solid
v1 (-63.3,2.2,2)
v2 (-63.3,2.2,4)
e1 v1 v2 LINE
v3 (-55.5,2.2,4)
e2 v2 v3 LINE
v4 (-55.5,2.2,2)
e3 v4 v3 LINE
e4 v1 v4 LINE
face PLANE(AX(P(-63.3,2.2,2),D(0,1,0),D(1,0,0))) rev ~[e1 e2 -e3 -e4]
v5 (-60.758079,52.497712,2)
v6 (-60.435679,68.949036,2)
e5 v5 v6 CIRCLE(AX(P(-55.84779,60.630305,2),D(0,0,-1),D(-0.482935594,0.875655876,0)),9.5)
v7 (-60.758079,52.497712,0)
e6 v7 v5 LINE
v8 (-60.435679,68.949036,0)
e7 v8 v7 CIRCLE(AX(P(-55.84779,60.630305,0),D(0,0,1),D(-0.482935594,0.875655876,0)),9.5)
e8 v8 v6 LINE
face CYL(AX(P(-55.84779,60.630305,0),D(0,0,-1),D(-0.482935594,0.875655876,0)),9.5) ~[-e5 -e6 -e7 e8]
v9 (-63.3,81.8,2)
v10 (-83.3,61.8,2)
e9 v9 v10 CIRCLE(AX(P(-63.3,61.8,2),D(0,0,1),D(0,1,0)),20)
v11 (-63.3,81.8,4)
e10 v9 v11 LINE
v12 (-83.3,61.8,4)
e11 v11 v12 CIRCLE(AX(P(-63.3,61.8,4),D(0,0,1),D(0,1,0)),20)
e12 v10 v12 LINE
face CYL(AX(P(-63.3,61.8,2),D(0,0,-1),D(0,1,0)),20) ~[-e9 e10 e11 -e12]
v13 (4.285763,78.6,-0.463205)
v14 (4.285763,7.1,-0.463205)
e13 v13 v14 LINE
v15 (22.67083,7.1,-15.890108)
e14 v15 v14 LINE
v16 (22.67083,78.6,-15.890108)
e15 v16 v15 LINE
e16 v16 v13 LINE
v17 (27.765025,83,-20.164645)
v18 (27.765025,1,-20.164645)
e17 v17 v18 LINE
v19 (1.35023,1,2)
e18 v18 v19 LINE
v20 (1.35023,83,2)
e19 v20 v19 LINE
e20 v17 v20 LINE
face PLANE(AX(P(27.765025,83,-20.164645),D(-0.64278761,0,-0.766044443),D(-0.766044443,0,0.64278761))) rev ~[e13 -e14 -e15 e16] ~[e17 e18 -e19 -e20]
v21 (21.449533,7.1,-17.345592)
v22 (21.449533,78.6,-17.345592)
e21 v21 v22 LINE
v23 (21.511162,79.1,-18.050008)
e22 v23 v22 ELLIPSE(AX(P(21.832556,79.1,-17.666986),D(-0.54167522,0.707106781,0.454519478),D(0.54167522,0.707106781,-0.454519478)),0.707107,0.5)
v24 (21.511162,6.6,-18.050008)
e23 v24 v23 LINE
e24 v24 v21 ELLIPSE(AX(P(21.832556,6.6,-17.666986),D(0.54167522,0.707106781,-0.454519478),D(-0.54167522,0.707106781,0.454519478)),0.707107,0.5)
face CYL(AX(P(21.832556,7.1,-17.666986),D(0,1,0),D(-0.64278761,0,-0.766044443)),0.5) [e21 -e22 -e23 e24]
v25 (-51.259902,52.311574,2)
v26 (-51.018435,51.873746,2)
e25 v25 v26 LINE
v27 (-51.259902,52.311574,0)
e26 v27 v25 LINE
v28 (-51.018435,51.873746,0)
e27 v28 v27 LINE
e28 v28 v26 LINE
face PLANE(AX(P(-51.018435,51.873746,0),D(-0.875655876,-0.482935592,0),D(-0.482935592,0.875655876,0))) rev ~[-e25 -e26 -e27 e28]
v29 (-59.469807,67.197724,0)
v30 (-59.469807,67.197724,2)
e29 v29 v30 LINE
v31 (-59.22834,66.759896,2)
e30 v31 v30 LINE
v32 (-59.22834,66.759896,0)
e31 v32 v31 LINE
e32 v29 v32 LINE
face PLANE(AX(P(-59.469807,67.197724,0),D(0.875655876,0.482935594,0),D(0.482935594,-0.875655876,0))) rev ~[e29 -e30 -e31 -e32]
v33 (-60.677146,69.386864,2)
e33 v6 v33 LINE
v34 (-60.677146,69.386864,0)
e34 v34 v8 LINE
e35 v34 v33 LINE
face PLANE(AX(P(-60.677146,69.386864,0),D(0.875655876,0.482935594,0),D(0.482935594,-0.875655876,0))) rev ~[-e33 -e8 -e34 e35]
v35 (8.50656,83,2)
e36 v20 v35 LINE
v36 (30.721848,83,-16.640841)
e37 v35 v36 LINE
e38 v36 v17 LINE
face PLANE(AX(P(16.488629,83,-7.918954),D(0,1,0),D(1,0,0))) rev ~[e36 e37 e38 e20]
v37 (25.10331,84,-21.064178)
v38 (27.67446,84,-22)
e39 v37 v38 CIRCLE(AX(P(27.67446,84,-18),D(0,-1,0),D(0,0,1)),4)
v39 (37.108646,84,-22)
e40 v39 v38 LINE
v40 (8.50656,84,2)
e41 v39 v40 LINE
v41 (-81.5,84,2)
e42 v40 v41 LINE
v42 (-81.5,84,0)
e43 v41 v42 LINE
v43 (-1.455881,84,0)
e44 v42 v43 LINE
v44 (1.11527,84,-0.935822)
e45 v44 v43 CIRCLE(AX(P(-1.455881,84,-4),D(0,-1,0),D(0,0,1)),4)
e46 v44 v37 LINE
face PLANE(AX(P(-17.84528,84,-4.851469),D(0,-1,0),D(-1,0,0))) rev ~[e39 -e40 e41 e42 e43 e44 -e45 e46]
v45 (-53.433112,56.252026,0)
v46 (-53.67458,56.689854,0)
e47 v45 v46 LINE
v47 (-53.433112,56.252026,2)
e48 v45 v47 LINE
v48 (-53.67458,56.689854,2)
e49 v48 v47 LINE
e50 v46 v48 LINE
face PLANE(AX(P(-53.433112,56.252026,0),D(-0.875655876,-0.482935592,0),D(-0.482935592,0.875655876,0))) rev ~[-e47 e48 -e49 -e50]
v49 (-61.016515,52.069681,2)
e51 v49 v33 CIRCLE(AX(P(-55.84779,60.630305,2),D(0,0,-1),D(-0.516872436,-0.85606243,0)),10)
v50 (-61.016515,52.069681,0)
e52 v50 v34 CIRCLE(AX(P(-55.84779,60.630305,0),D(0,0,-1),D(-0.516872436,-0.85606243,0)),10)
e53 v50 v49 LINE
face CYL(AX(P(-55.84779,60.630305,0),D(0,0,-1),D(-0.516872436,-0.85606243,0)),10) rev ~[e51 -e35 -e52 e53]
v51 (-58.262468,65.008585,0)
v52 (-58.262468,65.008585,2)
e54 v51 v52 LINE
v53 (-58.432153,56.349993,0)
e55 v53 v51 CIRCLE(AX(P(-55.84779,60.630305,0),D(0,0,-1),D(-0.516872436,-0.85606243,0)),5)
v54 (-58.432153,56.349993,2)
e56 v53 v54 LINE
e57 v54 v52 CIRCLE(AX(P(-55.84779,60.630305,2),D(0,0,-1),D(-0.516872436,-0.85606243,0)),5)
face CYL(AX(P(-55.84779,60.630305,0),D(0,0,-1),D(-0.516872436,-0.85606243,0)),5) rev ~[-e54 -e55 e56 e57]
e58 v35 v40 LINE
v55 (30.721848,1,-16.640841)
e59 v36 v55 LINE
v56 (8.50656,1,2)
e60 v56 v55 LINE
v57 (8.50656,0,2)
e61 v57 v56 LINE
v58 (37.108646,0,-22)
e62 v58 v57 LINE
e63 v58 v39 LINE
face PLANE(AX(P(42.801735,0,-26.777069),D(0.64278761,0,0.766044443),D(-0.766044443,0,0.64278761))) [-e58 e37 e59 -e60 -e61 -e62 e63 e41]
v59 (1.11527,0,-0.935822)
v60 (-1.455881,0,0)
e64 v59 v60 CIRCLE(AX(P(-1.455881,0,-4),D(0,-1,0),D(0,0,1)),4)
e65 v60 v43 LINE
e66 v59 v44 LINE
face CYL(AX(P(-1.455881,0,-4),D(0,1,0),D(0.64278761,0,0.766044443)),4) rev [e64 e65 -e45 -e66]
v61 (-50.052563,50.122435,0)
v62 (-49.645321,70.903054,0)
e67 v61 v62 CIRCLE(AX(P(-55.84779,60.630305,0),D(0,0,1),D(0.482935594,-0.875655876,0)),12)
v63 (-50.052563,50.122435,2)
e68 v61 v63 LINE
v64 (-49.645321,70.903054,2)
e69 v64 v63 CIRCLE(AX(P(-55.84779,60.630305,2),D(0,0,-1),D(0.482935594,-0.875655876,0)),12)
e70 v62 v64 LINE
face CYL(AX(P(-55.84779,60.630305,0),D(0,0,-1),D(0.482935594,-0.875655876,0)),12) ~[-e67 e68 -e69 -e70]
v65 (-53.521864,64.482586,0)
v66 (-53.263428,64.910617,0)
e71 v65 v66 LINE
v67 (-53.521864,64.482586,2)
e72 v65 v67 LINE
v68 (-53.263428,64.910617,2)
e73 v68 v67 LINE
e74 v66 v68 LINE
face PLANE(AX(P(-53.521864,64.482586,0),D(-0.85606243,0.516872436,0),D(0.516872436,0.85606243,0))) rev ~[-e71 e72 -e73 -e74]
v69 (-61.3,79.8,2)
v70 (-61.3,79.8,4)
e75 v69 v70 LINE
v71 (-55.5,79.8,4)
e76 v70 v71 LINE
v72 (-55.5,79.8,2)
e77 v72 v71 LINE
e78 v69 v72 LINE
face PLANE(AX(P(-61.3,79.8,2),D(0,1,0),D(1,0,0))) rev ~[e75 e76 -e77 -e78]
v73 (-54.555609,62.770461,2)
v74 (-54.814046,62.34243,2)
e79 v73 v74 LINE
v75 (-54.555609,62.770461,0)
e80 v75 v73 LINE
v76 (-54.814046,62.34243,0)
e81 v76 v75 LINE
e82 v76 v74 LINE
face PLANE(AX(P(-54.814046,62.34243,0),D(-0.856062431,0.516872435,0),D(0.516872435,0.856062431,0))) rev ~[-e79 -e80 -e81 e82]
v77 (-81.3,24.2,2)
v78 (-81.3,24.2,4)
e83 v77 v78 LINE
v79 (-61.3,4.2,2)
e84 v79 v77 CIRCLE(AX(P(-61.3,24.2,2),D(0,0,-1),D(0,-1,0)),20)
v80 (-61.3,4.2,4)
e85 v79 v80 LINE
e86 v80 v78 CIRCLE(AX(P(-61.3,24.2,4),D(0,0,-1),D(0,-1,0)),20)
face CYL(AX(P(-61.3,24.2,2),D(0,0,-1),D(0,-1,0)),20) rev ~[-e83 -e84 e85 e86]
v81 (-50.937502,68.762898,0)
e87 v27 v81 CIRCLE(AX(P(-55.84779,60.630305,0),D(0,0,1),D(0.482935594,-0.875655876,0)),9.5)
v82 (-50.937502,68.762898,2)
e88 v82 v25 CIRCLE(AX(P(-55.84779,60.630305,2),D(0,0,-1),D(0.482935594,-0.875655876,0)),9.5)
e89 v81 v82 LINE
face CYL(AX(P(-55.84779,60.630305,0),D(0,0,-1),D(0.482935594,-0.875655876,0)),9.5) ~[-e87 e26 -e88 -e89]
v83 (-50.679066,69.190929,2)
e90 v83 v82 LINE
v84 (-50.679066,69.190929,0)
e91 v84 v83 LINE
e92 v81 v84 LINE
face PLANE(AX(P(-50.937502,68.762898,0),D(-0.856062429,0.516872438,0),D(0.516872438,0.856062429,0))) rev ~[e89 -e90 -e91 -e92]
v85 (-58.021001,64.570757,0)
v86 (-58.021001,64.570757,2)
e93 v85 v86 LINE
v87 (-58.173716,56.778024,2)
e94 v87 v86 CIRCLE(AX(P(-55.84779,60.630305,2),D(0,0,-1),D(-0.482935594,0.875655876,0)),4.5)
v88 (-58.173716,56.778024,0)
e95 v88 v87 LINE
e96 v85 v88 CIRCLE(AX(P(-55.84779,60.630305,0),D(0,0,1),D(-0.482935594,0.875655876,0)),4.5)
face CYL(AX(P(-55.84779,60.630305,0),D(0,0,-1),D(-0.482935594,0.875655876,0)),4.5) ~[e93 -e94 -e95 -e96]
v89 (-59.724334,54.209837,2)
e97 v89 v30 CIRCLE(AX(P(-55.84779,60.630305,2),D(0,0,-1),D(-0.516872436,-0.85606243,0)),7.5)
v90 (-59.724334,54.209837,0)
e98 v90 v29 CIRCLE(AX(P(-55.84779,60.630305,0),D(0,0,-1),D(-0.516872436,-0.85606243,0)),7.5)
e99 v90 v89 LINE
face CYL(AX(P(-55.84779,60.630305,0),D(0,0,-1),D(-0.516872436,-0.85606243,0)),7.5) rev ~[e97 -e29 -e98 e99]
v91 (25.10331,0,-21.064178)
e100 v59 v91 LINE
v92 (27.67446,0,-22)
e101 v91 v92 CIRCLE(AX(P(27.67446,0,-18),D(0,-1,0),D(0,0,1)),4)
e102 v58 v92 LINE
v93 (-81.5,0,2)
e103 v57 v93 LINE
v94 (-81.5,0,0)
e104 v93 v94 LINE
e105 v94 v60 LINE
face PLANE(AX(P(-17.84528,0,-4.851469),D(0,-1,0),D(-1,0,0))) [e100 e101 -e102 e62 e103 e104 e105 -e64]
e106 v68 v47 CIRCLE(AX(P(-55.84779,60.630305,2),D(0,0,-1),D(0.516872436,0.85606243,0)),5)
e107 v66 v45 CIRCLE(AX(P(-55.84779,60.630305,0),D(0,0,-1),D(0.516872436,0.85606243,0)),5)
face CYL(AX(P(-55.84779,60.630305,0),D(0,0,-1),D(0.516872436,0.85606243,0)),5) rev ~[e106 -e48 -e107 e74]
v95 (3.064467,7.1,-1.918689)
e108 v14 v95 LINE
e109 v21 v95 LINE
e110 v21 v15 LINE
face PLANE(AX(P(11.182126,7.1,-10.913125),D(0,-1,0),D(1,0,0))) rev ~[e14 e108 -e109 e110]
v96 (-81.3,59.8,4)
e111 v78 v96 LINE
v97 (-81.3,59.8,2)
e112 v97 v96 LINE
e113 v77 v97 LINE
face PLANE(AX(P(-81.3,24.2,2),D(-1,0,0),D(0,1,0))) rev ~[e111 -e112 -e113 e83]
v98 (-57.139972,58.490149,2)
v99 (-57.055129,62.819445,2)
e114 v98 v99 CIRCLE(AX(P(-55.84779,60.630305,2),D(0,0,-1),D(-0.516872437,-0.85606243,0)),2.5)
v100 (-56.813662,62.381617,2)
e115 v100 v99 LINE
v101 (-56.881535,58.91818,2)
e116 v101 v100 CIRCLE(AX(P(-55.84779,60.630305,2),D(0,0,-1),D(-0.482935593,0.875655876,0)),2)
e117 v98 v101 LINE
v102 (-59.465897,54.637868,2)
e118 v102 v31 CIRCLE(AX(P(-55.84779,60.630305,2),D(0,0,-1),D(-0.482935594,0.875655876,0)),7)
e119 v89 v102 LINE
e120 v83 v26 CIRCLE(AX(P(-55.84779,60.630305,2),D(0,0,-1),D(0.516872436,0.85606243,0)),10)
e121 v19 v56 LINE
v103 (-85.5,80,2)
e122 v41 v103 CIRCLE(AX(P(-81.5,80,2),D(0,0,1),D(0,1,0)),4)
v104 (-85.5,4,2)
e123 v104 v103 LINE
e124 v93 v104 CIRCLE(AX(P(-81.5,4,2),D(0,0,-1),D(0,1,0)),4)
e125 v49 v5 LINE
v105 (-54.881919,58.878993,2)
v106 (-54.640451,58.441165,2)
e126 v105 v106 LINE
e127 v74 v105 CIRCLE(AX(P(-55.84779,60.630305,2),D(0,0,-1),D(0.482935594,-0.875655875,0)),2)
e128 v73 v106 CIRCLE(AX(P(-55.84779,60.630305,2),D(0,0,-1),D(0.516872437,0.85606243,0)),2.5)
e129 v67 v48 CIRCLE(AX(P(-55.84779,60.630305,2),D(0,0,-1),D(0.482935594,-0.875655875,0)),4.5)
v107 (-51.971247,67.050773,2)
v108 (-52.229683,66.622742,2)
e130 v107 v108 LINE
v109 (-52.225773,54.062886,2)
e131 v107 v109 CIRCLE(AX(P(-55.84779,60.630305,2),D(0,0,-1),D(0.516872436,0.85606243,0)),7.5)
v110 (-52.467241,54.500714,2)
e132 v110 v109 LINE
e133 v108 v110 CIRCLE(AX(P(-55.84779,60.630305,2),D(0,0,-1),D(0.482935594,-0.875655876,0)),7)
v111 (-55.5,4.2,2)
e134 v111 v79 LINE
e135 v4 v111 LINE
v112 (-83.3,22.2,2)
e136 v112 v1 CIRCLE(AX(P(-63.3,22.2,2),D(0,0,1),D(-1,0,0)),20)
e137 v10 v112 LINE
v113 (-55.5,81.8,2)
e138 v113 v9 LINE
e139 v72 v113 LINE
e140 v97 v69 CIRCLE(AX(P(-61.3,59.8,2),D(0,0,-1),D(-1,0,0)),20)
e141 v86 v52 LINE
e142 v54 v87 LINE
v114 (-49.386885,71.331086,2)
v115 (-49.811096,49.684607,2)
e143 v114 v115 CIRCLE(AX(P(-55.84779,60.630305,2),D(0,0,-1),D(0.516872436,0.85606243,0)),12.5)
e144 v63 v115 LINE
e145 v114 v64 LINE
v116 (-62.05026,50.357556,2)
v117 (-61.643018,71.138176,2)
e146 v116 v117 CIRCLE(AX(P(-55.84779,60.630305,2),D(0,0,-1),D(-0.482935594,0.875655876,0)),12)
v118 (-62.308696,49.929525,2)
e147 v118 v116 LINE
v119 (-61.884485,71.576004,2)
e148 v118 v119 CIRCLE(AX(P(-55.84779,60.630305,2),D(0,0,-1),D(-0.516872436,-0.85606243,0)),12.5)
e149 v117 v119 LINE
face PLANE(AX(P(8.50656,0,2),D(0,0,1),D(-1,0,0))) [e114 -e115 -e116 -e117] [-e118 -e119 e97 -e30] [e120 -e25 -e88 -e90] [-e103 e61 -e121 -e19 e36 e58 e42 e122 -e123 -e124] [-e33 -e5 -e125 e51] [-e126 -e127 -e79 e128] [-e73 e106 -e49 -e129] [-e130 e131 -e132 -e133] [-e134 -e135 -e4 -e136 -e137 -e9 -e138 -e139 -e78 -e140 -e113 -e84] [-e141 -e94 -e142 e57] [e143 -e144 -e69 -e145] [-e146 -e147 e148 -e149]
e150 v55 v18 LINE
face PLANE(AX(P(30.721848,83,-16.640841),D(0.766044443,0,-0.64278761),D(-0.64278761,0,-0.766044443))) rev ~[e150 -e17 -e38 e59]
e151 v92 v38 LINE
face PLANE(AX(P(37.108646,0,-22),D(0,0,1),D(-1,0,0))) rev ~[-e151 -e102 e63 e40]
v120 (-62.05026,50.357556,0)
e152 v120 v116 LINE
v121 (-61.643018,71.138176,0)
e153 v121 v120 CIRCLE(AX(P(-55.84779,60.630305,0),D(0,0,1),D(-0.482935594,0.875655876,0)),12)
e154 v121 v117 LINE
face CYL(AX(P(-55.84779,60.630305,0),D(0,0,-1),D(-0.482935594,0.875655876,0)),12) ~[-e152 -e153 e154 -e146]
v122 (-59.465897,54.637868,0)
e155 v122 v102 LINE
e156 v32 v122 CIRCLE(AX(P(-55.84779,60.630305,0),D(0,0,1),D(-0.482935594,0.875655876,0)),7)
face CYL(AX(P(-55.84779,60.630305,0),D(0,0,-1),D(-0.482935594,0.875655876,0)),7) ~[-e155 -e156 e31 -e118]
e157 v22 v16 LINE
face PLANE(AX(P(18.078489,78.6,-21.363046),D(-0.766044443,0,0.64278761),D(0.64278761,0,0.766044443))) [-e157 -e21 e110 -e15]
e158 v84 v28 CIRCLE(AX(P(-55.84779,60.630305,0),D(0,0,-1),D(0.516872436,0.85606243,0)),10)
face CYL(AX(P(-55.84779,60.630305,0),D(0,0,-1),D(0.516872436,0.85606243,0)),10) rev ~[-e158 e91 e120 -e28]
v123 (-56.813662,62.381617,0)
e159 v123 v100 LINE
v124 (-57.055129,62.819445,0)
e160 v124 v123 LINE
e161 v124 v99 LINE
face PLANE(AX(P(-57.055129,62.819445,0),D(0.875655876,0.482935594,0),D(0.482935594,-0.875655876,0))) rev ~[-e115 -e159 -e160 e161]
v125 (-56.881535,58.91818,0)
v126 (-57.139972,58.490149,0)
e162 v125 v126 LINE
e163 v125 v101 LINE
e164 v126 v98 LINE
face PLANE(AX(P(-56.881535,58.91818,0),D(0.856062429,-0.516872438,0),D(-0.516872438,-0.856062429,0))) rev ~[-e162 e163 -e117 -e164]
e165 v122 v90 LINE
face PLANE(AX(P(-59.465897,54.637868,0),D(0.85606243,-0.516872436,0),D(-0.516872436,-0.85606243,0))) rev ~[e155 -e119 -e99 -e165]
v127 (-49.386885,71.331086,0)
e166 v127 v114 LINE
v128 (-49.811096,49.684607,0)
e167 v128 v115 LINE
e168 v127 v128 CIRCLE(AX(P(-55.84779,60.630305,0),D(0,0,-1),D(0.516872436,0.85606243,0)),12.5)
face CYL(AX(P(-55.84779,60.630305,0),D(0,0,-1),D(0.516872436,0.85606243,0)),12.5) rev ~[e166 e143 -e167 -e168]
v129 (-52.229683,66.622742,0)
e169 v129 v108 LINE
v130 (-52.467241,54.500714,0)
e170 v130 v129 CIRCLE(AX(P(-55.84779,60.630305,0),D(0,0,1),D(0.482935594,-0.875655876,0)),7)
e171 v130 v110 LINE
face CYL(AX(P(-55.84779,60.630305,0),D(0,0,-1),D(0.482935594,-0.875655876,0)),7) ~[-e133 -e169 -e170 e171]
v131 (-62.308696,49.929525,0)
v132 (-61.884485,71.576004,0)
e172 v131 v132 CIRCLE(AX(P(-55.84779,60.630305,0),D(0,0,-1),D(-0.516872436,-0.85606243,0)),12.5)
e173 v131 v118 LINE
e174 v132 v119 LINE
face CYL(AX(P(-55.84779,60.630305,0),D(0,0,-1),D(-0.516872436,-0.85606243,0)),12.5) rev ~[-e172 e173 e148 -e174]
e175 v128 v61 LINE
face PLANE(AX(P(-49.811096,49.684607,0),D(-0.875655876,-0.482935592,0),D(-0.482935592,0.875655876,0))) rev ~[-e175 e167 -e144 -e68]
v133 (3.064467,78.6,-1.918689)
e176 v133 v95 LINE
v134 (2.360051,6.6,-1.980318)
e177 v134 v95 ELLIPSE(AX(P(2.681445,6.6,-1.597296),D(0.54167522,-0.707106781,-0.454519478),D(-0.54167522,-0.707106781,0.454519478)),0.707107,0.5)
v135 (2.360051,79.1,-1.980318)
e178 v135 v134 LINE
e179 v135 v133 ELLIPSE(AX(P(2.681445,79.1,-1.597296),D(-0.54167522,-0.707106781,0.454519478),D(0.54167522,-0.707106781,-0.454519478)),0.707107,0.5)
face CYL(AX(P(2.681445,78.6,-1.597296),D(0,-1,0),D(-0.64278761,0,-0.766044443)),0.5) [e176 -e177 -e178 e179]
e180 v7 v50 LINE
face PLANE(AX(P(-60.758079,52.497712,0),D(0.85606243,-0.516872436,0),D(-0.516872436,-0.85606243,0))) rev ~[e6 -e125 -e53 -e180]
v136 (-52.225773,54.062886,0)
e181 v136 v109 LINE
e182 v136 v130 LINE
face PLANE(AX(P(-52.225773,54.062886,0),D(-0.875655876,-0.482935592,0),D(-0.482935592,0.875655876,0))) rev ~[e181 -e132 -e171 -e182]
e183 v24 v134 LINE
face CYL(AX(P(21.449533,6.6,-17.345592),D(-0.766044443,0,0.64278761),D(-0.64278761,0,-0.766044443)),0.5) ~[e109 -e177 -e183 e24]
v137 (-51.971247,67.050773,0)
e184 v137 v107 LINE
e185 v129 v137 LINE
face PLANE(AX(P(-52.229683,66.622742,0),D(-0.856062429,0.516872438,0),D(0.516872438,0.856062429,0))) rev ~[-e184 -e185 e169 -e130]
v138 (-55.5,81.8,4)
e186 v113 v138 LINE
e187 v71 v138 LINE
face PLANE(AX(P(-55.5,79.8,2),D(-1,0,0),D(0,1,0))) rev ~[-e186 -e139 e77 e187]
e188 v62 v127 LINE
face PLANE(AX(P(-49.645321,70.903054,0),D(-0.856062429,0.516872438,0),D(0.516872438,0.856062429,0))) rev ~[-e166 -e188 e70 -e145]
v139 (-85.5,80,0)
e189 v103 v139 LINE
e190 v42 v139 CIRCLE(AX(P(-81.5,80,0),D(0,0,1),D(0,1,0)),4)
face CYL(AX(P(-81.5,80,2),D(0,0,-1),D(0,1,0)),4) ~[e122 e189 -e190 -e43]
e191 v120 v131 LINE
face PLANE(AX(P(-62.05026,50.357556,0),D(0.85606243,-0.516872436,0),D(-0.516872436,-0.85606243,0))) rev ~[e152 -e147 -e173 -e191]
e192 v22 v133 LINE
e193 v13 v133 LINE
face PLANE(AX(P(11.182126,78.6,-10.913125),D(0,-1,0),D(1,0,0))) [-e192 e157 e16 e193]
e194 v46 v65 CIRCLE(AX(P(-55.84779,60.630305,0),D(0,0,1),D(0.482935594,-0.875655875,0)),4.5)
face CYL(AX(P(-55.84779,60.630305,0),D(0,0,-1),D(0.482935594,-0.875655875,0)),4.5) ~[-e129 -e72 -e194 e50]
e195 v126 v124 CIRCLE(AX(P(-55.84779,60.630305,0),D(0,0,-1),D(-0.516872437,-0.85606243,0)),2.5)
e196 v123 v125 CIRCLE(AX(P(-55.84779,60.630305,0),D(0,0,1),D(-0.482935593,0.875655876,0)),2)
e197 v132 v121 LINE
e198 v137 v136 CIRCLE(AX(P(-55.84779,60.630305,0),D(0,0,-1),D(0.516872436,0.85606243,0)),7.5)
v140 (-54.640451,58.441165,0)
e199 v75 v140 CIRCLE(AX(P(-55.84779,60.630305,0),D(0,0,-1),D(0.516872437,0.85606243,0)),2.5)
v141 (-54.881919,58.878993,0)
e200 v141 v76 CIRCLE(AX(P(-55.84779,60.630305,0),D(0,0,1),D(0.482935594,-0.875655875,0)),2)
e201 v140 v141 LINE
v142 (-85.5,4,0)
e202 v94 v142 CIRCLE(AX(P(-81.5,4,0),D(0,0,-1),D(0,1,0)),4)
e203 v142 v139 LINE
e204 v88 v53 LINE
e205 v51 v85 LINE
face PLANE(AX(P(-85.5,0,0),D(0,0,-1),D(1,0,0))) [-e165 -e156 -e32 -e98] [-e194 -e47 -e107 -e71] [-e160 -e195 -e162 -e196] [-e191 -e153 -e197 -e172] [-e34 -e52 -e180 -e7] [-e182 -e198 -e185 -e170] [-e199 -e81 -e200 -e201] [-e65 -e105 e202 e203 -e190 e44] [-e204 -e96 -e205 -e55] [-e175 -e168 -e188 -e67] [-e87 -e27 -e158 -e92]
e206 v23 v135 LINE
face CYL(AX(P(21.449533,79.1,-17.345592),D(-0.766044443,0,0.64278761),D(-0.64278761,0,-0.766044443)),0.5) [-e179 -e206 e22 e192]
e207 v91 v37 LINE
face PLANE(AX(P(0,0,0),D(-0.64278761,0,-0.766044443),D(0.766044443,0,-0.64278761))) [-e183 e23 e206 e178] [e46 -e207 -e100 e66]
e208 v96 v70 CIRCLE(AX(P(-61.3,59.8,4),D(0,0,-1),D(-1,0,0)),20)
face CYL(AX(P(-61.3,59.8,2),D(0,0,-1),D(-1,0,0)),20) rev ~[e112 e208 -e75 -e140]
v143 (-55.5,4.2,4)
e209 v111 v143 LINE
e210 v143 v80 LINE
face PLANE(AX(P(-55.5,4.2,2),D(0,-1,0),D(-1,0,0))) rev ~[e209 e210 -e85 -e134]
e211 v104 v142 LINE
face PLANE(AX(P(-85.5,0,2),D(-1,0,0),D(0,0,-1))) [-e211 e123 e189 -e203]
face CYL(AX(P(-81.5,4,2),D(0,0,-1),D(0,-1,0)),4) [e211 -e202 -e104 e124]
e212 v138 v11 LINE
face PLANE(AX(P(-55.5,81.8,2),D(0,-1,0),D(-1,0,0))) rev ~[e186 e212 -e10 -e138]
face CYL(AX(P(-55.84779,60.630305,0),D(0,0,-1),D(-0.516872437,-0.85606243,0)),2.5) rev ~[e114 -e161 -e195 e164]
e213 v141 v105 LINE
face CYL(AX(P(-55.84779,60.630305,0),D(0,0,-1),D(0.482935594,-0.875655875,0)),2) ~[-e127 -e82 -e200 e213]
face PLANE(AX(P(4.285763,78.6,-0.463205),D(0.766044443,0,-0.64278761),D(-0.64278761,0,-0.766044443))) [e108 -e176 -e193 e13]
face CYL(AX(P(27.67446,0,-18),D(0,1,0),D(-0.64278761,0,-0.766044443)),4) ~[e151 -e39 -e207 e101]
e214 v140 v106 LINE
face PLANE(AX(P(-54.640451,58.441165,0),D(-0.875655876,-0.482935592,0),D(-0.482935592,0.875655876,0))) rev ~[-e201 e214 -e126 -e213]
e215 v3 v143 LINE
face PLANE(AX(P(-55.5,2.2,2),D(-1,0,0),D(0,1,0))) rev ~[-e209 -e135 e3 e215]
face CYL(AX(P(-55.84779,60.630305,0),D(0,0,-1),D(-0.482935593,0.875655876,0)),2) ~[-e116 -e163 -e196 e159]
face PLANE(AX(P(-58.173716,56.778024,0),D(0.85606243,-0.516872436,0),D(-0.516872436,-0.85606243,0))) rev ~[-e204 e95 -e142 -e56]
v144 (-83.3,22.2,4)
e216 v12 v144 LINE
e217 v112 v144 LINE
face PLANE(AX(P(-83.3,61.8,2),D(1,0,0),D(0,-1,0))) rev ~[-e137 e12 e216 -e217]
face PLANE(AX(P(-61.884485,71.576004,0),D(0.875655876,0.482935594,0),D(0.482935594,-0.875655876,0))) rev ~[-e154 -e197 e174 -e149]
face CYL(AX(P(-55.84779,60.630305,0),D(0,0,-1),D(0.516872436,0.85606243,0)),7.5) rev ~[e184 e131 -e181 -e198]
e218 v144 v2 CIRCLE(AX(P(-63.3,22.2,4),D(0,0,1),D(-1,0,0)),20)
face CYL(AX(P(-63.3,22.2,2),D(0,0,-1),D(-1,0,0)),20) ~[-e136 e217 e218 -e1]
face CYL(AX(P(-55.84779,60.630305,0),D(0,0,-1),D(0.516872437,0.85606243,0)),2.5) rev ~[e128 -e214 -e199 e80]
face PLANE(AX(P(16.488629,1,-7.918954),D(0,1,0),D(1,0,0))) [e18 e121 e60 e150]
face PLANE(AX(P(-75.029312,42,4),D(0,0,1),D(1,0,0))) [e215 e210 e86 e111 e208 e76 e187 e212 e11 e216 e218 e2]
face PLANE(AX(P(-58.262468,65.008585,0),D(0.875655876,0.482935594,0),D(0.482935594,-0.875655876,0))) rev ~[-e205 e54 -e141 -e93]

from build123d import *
from OCP.BRepFilletAPI import BRepFilletAPI_MakeFillet

# Parameters (mm, degrees)
BOSS_EXTRUDE1_DEPTH = 84
CUT_EXTRUDE2_START  = -1
CUT_EXTRUDE2_DEPTH  = 82
CUT_EXTRUDE3_START  = 4.4
CUT_EXTRUDE3_DEPTH  = 71.5
CUT_EXTRUDE4_DEPTH  = 84
FILLET2_R1          = 4
FILLET2_R2          = 0.5
BOSS_EXTRUDE3_DEPTH = 2
CUT_EXTRUDE5_DEPTH  = 4


with BuildPart() as part:
    # Sketch1 → Boss-Extrude1 (new body)
    with BuildSketch(Plane(origin=(0, 0, 0), x_dir=(1, 0, 0), z_dir=(0, 1, 0))):
        Polygon((0, 0), (38.302222156, 32.139380484), (42.801735424, 26.777069382), (8.506559603, -2), (-85.5, -2), (-85.5, 0), align=None)
    extrude(amount=BOSS_EXTRUDE1_DEPTH)

    # Sketch5 → Cut-Extrude2 (cut)
    with BuildSketch(Plane(origin=(0, 84, 0), x_dir=(1, 0, 0), z_dir=(0, 1, 0)).offset(CUT_EXTRUDE2_START)):
        Polygon((8.506559603, -2), (30.721848453, 16.640840681), (27.765025449, 20.164645119), (1.350229999, -2), align=None)
    extrude(amount=-CUT_EXTRUDE2_DEPTH, mode=Mode.SUBTRACT)

    # Sketch7 → Cut-Extrude3 (cut)
    with BuildSketch(Plane.XZ.offset(-83).offset(CUT_EXTRUDE3_START)):
        Polygon((4.285763267, -0.463204882), (-0.306577305, -5.936143258), (18.078489329, -21.363045891), (22.670829902, -15.890107515), align=None)
    extrude(amount=CUT_EXTRUDE3_DEPTH, mode=Mode.SUBTRACT)

    # Sketch8 → Cut-Extrude4 (cut)
    with BuildSketch(Plane.XZ):
        Polygon((42.801735424, -26.777069382), (37.108645825, -22), (26.218579037, -22), (38.302222156, -32.139380484), align=None)
    extrude(amount=-CUT_EXTRUDE4_DEPTH, mode=Mode.SUBTRACT)

    # Fillet2: one fillet with a radius per group of edges: ONE call of the kernel's fillet builder (fillet() takes one radius for all edges)
    fillet2_edges_1 = [part.edges().sort_by_distance(p)[0] for p in [
        (0, 42, 0),
        (-85.5, 84, 1),
        (26.218579037, 42, -22),
        (-85.5, 0, 1),
    ]]
    fillet2_edges_2 = [part.edges().sort_by_distance(p)[0] for p in [
        (11.935606321, 7.1, -10.015162862),
        (2.743073004, 42.85, -2.301711546),
        (21.128139639, 42.85, -17.728614178),
        (11.935606321, 78.6, -10.015162862),
    ]]
    fillet2 = BRepFilletAPI_MakeFillet(part.part.solid().wrapped)
    for e in fillet2_edges_1:
        fillet2.Add(FILLET2_R1, e.wrapped)
    for e in fillet2_edges_2:
        fillet2.Add(FILLET2_R2, e.wrapped)
    add(Compound.cast(fillet2.Shape()), mode=Mode.REPLACE)

    # Sketch10 → Boss-Extrude3 (add)
    with BuildSketch(Plane.XY.offset(2)):
        with BuildLine():
            Line((-55.5, 79.8), (-55.5, 81.8))
            Line((-55.5, 81.8), (-63.3, 81.8))
            ThreePointArc((-63.3, 81.8), (-77.442135624, 75.942135624), (-83.3, 61.8))
            Line((-83.3, 61.8), (-83.3, 22.2))
            ThreePointArc((-83.3, 22.2), (-77.442135624, 8.057864376), (-63.3, 2.2))
            Line((-63.3, 2.2), (-55.5, 2.2))
            Line((-55.5, 2.2), (-55.5, 4.2))
            Line((-55.5, 4.2), (-61.3, 4.2))
            ThreePointArc((-61.3, 4.2), (-75.442135624, 10.057864376), (-81.3, 24.2))
            Line((-81.3, 24.2), (-81.3, 59.8))
            ThreePointArc((-81.3, 59.8), (-75.442135624, 73.942135624), (-61.3, 79.8))
            Line((-61.3, 79.8), (-55.5, 79.8))
        make_face()
    extrude(amount=BOSS_EXTRUDE3_DEPTH)

    # Sketch11 → Cut-Extrude5 (cut)
    with BuildSketch(Plane(origin=(0, 0, 0), x_dir=(-1, 0, 0), z_dir=(0, 0, -1))):
        with BuildLine():
            ThreePointArc((49.386884986, 71.331085509), (43.350190066, 60.385387064), (49.811095522, 49.684606686))
            Line((49.811095522, 49.684606686), (50.052563318, 50.122434624))
            ThreePointArc((50.052563318, 50.122434624), (43.850094081, 60.395183787), (49.645321205, 70.903054294))
            Line((49.645321205, 70.903054294), (49.386884986, 71.331085509))
        make_face()
        with BuildLine():
            Line((62.050259679, 50.357555968), (62.308695897, 49.929524753))
            ThreePointArc((62.308695897, 49.929524753), (68.345390817, 60.875223198), (61.884485362, 71.576003576))
            Line((61.884485362, 71.576003576), (61.643017565, 71.138175638))
            ThreePointArc((61.643017565, 71.138175638), (67.845486802, 60.865426475), (62.050259679, 50.357555968))
        make_face()
        with BuildLine():
            ThreePointArc((50.679066077, 69.190929433), (45.849710141, 60.434370678), (51.018434506, 51.873746375))
            Line((51.018434506, 51.873746375), (51.259902302, 52.311574313))
            ThreePointArc((51.259902302, 52.311574313), (46.349614156, 60.4441674), (50.937502296, 68.762898218))
            Line((50.937502296, 68.762898218), (50.679066077, 69.190929433))
        make_face()
        with BuildLine():
            Line((60.758078588, 52.497712044), (61.016514806, 52.069680829))
            ThreePointArc((61.016514806, 52.069680829), (65.845870742, 60.826239584), (60.677146378, 69.386863887))
            Line((60.677146378, 69.386863887), (60.435678581, 68.949035949))
            ThreePointArc((60.435678581, 68.949035949), (65.345966727, 60.816442862), (60.758078588, 52.497712044))
        make_face()
        with BuildLine():
            ThreePointArc((51.971247168, 67.050773358), (48.349230216, 60.483354291), (52.22577349, 54.062886064))
            Line((52.22577349, 54.062886064), (52.467241286, 54.500714002))
            ThreePointArc((52.467241286, 54.500714002), (48.849134231, 60.493151014), (52.229683387, 66.622742143))
            Line((52.229683387, 66.622742143), (51.971247168, 67.050773358))
        make_face()
        with BuildLine():
            Line((59.465897497, 54.637868119), (59.724333715, 54.209836904))
            ThreePointArc((59.724333715, 54.209836904), (63.346350667, 60.777255971), (59.469807394, 67.197724198))
            Line((59.469807394, 67.197724198), (59.228339597, 66.75989626))
            ThreePointArc((59.228339597, 66.75989626), (62.846446652, 60.767459248), (59.465897497, 54.637868119))
        make_face()
        with BuildLine():
            ThreePointArc((53.26342826, 64.910617282), (50.848750292, 60.532337904), (53.433112474, 56.252025753))
            Line((53.433112474, 56.252025753), (53.67458027, 56.689853691))
            ThreePointArc((53.67458027, 56.689853691), (51.348654307, 60.542134627), (53.521864478, 64.482586067))
            Line((53.521864478, 64.482586067), (53.26342826, 64.910617282))
        make_face()
        with BuildLine():
            Line((58.173716406, 56.778024195), (58.432152624, 56.34999298))
            ThreePointArc((58.432152624, 56.34999298), (60.846830592, 60.728272358), (58.26246841, 65.008584509))
            Line((58.26246841, 65.008584509), (58.021000613, 64.570756571))
            ThreePointArc((58.021000613, 64.570756571), (60.346926577, 60.718475635), (58.173716406, 56.778024195))
        make_face()
        with BuildLine():
            ThreePointArc((54.555609351, 62.770461207), (53.348270367, 60.581321518), (54.640451458, 58.441165442))
            Line((54.640451458, 58.441165442), (54.881919254, 58.87899338))
            ThreePointArc((54.881919254, 58.87899338), (53.848174382, 60.59111824), (54.814045569, 62.342429991))
            Line((54.814045569, 62.342429991), (54.555609351, 62.770461207))
        make_face()
        with BuildLine():
            Line((56.881535314, 58.91818027), (57.139971533, 58.490149055))
            ThreePointArc((57.139971533, 58.490149055), (58.347310517, 60.679288744), (57.055129426, 62.81944482))
            Line((57.055129426, 62.81944482), (56.813661629, 62.381616882))
            ThreePointArc((56.813661629, 62.381616882), (57.847406502, 60.669492022), (56.881535314, 58.91818027))
        make_face()
    extrude(amount=-CUT_EXTRUDE5_DEPTH, mode=Mode.SUBTRACT)


solid = part.part
